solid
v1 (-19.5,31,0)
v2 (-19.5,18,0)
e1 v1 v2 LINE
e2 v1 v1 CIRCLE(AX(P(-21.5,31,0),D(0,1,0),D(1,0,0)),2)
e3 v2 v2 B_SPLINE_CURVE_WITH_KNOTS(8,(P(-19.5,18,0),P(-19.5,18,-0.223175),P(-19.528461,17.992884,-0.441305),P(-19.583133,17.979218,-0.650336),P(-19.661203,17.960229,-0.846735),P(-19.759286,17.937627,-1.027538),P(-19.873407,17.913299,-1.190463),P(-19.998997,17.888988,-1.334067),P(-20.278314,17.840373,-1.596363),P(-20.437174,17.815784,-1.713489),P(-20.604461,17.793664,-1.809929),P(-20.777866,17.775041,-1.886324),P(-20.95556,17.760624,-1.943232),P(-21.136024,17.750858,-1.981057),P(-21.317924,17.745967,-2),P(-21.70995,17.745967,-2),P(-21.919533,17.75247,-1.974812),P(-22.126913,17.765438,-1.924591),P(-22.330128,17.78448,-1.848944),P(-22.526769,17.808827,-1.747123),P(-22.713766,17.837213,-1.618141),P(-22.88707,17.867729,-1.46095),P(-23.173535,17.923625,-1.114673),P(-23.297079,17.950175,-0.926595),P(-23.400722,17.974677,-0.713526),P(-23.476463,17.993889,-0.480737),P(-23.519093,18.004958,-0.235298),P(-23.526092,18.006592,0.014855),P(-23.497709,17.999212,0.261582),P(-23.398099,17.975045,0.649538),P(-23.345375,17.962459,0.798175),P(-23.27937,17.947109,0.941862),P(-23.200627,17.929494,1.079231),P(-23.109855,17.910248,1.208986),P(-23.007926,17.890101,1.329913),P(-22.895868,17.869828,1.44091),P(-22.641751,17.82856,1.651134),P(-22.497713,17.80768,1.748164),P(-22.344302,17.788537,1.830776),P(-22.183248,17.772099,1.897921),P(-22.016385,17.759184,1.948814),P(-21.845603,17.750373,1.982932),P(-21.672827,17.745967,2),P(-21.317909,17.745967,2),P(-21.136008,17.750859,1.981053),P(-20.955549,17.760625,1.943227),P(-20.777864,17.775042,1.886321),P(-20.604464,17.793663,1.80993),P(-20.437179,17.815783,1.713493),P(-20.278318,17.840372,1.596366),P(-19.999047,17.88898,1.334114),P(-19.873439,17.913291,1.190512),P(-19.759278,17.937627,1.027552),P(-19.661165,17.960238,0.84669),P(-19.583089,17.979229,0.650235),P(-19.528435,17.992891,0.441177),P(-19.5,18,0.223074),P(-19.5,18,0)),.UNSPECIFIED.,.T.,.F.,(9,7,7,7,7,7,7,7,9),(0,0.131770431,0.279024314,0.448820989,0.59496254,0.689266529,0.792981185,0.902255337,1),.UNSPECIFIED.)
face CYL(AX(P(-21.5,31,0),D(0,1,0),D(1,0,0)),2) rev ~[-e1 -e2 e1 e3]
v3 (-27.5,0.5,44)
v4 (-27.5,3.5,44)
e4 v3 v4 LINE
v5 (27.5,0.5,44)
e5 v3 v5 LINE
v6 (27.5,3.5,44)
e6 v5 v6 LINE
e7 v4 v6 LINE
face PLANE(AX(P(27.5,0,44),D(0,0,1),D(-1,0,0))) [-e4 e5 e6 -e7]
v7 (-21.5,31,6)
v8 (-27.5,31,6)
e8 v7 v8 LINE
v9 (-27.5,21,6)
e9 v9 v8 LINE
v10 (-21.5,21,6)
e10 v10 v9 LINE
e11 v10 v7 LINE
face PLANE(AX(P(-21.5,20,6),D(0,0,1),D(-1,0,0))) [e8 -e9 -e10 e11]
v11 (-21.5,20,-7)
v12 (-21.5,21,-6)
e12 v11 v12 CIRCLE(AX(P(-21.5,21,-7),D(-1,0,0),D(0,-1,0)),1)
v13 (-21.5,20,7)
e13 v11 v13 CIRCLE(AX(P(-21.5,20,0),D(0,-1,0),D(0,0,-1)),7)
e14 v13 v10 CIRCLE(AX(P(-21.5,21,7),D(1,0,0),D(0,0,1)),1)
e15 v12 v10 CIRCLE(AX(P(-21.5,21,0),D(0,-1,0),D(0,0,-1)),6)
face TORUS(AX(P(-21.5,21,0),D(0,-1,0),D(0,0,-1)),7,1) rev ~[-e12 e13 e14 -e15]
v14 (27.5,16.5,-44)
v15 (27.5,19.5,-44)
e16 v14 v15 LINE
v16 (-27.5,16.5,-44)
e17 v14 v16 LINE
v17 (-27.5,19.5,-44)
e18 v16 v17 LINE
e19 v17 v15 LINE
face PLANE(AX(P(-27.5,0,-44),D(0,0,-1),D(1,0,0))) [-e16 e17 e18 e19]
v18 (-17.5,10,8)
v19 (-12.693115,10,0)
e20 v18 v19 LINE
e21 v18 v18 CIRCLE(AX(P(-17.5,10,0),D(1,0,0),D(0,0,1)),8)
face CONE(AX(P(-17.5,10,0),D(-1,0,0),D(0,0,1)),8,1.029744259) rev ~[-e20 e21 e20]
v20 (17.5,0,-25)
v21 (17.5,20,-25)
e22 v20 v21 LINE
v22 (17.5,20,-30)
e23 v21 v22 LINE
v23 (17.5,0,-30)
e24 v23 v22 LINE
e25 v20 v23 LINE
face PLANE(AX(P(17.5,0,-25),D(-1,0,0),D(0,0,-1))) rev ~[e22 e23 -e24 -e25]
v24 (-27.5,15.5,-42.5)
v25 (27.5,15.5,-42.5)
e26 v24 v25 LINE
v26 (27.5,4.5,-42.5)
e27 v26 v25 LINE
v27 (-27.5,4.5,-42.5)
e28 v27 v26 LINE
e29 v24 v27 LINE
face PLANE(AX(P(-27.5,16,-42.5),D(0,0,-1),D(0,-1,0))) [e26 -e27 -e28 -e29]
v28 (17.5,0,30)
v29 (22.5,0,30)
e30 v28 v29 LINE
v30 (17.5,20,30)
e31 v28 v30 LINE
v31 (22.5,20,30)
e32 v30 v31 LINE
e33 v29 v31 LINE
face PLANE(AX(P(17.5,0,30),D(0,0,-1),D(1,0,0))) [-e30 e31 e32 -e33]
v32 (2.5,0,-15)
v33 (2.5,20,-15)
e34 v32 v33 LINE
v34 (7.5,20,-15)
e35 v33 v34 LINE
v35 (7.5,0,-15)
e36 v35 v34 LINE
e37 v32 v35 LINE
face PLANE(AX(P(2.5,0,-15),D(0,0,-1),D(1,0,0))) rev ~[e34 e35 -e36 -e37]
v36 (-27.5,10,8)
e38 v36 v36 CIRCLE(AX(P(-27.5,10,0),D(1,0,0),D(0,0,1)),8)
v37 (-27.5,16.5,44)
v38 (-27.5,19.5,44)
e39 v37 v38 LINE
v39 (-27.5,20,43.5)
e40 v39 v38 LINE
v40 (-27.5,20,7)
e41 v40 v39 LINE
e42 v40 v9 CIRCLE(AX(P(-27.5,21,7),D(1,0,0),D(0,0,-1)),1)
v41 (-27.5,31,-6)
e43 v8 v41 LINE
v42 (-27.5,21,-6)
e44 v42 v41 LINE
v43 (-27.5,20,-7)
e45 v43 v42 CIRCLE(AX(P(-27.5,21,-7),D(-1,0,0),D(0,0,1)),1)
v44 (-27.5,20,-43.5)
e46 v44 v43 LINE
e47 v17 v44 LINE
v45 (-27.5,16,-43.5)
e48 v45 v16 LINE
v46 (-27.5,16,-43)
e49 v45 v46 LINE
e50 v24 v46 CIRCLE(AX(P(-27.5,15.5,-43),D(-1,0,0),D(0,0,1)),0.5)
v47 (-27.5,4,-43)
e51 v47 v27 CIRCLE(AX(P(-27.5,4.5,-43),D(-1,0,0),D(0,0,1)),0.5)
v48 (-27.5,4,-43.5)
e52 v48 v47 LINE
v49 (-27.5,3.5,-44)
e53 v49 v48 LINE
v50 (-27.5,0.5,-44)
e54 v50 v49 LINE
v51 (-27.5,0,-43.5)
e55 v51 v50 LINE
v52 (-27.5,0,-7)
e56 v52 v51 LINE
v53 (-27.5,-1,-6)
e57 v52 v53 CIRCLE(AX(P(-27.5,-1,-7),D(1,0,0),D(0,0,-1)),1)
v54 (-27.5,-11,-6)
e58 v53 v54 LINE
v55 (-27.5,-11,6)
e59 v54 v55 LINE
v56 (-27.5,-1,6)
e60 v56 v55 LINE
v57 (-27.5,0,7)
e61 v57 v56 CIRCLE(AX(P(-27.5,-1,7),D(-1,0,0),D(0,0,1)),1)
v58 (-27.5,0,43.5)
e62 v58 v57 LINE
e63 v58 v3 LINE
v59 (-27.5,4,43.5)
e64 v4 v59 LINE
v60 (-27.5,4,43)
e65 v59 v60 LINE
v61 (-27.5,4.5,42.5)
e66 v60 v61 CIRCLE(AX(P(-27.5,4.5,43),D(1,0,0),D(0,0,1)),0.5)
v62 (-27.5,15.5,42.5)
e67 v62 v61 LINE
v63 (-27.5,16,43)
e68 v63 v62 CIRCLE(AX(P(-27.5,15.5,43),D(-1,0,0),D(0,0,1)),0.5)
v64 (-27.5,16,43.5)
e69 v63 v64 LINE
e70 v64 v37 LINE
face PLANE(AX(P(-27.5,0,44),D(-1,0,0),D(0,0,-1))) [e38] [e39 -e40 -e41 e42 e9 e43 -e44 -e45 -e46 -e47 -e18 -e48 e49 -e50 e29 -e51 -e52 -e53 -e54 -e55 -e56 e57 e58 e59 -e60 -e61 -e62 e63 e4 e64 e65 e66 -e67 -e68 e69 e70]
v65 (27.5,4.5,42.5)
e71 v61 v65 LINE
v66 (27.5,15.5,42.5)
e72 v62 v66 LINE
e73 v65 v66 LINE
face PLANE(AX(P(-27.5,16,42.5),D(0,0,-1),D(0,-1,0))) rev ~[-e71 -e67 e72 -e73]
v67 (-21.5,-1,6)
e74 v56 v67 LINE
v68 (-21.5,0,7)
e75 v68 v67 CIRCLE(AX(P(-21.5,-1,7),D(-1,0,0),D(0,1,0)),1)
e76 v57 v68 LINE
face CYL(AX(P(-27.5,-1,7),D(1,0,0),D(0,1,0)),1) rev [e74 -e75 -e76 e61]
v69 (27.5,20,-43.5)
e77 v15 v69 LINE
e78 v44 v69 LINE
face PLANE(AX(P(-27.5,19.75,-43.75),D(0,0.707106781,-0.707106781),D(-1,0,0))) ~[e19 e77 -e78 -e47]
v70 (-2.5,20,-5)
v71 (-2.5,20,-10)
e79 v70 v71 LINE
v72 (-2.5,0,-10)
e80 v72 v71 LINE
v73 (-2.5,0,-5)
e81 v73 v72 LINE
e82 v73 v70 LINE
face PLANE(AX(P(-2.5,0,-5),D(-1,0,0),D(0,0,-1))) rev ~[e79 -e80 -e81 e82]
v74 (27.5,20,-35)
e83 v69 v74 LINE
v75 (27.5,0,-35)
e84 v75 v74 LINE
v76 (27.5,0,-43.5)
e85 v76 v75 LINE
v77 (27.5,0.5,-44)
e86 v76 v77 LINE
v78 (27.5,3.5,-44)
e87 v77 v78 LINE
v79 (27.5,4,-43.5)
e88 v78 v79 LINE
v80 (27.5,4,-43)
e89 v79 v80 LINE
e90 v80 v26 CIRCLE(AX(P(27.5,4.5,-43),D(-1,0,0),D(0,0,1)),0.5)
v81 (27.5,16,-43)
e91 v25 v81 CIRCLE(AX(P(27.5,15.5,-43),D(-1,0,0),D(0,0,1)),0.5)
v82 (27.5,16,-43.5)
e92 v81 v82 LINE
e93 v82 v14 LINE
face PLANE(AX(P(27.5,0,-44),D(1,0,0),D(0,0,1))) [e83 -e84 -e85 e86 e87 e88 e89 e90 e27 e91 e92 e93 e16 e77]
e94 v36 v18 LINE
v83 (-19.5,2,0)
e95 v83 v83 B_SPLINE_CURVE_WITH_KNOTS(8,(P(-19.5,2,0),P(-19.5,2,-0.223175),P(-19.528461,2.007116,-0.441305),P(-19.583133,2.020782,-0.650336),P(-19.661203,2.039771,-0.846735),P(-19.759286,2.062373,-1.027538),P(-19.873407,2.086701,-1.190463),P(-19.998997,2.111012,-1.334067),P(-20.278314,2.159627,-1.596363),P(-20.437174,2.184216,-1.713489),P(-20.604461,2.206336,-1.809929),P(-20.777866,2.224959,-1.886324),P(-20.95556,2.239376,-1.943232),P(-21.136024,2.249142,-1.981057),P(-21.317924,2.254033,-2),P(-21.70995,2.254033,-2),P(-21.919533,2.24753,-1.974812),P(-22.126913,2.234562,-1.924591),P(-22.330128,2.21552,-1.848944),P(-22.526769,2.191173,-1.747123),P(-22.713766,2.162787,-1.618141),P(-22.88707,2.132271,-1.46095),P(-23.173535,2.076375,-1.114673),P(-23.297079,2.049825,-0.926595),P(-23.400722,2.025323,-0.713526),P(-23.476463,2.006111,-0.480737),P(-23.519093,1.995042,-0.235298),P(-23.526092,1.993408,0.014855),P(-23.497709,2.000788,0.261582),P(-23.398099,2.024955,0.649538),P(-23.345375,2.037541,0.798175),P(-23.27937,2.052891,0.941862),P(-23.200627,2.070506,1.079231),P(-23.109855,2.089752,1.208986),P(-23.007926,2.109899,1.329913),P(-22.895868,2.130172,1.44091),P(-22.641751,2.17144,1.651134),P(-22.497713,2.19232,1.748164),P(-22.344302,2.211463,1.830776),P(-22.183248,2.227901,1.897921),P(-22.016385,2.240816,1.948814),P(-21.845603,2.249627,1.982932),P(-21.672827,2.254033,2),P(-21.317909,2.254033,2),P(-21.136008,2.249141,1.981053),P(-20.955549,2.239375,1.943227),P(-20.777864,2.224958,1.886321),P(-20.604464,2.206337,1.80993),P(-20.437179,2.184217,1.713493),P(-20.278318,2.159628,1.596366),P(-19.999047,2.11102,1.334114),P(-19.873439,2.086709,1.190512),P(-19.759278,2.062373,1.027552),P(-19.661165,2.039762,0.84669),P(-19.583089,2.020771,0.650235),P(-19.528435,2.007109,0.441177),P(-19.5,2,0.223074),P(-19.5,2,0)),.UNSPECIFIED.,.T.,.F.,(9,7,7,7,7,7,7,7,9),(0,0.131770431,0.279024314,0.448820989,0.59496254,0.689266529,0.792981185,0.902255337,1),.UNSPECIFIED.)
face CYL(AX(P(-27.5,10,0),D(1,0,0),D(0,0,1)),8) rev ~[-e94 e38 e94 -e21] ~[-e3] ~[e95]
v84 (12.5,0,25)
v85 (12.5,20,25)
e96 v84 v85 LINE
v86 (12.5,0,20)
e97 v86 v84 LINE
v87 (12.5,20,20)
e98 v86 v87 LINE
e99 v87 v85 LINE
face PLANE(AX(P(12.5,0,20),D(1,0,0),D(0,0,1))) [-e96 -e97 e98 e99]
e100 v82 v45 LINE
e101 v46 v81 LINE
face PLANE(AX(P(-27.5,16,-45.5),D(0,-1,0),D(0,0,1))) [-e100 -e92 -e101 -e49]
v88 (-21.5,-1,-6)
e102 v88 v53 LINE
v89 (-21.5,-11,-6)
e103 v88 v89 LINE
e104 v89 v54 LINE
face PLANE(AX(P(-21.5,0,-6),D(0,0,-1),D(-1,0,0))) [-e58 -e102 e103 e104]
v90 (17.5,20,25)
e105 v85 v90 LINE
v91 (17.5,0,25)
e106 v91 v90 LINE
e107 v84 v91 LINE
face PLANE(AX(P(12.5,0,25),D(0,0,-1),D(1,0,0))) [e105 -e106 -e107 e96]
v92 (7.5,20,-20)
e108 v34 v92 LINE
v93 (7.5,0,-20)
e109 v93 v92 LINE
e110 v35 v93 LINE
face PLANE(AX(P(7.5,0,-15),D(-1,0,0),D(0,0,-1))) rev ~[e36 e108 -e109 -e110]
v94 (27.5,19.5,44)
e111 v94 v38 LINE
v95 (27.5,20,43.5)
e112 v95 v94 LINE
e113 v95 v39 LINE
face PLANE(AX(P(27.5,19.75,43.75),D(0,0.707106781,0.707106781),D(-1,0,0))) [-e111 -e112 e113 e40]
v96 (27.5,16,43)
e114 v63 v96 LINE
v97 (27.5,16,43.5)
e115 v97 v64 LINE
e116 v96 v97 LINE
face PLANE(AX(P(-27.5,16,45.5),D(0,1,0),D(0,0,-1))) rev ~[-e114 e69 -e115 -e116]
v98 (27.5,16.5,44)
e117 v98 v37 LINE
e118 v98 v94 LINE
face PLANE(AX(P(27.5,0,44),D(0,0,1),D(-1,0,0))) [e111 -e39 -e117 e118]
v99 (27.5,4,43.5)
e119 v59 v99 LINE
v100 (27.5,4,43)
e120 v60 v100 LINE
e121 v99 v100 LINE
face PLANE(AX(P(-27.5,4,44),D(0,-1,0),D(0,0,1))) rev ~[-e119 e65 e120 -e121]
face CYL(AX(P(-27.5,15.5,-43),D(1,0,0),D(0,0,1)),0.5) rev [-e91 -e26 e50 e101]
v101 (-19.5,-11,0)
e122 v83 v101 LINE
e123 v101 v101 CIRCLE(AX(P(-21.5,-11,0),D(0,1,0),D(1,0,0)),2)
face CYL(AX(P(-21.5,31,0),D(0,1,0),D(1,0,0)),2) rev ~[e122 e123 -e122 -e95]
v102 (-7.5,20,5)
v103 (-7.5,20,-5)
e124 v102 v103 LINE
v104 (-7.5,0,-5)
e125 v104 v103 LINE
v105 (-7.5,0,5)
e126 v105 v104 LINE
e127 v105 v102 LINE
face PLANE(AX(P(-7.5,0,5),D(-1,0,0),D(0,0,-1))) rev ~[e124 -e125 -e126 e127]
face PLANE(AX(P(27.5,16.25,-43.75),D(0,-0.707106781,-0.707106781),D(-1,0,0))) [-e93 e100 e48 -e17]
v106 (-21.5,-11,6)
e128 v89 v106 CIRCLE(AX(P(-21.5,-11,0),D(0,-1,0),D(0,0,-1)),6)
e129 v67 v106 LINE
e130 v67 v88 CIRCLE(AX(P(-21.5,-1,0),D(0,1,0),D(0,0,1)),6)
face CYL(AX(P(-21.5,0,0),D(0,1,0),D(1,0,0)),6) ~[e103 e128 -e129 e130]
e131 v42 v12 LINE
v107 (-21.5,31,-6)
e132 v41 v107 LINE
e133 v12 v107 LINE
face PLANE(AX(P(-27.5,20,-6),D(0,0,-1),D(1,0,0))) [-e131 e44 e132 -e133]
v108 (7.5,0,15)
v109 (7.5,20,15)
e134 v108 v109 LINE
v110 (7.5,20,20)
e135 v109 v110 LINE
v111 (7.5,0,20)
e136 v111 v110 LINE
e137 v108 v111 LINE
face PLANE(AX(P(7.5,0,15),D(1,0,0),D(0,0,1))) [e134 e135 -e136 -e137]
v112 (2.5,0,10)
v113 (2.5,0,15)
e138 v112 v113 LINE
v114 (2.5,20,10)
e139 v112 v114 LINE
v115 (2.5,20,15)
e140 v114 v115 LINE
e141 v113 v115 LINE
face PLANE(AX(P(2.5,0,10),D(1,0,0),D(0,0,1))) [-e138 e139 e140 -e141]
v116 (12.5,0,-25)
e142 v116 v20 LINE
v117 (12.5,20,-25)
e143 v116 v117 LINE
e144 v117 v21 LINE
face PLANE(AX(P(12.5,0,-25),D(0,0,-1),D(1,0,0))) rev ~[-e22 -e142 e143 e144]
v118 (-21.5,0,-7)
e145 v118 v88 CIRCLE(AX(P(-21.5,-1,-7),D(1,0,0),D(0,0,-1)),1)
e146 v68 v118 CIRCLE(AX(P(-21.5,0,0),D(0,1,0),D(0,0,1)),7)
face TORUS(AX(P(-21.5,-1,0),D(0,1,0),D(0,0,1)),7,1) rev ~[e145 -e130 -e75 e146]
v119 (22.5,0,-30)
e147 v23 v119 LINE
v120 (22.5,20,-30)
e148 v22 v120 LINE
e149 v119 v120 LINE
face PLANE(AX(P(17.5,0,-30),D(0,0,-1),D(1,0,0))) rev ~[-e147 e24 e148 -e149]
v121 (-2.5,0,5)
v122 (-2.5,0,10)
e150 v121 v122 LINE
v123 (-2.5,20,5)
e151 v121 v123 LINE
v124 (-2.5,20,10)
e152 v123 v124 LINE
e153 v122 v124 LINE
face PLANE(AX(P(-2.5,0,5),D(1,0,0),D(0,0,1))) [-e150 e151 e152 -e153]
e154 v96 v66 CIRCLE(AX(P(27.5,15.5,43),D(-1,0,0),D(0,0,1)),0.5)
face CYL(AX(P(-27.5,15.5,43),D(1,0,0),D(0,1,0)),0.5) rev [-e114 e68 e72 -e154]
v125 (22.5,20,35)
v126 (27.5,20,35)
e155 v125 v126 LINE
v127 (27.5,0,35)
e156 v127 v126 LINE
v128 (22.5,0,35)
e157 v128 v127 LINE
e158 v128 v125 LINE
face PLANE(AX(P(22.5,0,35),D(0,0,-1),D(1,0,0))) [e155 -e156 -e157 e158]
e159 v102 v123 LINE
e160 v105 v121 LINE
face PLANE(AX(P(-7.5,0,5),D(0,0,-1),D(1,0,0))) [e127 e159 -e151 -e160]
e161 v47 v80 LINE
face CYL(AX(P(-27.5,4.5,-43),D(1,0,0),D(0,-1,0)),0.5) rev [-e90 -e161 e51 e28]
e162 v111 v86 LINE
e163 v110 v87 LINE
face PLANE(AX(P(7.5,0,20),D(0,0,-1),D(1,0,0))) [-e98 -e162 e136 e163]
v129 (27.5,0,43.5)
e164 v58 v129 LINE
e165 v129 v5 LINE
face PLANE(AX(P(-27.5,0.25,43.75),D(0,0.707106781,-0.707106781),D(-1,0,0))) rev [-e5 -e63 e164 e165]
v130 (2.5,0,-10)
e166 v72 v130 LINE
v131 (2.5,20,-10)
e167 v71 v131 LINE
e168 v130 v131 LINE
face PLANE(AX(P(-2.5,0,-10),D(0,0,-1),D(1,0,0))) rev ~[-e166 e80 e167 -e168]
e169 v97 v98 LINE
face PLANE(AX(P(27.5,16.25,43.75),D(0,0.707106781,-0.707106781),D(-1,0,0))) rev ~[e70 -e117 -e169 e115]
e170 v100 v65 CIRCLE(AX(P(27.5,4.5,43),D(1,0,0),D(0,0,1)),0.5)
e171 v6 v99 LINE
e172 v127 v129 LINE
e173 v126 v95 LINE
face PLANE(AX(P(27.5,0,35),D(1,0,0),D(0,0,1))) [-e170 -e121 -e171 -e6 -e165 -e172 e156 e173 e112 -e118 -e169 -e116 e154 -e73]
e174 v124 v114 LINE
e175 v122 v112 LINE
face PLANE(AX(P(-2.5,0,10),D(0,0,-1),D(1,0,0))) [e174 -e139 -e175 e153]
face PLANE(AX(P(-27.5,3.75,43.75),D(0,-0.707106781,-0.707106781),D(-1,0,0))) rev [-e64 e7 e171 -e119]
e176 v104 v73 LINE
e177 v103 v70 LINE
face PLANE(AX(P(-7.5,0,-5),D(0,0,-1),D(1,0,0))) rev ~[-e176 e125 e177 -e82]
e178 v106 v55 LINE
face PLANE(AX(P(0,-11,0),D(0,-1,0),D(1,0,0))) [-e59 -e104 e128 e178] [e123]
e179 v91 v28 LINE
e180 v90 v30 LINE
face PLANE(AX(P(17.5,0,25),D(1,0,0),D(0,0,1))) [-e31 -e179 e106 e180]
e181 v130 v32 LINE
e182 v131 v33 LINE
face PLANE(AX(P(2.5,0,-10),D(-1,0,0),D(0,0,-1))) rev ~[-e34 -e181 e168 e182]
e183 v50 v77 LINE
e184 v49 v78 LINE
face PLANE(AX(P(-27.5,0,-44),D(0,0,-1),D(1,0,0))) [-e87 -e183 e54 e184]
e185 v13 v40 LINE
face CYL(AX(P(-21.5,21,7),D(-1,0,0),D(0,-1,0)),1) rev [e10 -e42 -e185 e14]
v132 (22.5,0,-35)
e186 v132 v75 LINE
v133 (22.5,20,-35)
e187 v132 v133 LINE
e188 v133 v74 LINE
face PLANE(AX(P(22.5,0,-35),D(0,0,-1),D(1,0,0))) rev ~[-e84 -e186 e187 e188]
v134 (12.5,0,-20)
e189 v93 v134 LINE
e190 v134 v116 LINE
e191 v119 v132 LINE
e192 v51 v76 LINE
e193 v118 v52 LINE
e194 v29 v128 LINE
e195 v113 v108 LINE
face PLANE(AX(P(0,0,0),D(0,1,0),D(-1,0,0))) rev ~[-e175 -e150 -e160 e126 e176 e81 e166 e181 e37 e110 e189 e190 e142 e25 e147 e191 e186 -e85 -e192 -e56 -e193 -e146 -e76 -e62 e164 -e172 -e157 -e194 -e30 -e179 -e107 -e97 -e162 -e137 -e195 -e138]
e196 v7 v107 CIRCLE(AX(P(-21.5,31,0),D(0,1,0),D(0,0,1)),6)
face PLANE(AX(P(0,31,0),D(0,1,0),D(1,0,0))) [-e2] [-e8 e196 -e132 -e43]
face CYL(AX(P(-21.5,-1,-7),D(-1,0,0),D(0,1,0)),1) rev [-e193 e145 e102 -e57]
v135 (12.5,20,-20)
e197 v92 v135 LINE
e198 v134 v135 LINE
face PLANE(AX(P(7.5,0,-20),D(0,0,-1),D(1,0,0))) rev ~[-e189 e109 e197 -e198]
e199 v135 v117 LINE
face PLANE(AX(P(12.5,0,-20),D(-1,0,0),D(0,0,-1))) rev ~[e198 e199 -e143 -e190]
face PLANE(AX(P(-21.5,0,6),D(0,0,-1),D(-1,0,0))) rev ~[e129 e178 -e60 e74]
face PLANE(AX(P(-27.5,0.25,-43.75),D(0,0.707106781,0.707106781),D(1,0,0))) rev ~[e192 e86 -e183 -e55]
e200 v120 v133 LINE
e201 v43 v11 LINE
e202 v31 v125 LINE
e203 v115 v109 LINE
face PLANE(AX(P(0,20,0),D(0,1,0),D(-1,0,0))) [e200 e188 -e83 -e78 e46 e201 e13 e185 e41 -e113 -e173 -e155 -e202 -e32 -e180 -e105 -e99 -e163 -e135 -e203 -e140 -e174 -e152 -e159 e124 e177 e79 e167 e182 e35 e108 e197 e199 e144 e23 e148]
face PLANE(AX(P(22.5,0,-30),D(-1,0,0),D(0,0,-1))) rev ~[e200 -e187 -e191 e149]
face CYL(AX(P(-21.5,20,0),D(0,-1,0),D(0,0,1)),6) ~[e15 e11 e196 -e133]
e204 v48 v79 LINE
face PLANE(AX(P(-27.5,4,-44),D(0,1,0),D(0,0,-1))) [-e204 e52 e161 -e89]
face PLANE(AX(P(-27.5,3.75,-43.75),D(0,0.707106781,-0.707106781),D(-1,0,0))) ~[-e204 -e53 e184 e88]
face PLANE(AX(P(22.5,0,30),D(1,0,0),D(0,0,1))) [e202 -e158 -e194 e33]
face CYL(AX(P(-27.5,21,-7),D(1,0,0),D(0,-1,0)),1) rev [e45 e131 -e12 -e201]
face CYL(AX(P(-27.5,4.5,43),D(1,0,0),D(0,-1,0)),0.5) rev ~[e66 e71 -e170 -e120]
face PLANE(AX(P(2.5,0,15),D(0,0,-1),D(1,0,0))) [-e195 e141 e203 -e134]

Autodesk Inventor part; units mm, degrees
ref_plane "YZ Plane" through (0, 0, 0) normal (1, 0, 0) x (0, 1, 0)
ref_plane "XZ Plane" through (0, 0, 0) normal (0, 1, 0) x (-1, 0, 0)
ref_plane "XY Plane" through (0, 0, 0) normal (0, 0, 1) x (1, 0, 0)
sketch "Sketch1" plane through (0, 0, 0) normal (0, 1, 0) x (-1, 0, 0)
  line L0 (-27.5, 44) -> (27.5, 44)
  line L1 (27.5, 44) -> (27.5, -44)
  line L2 (27.5, -44) -> (-27.5, -44)
  line L3 (-27.5, -44) -> (-27.5, 44)
  line L4 (-27.5, 44) -> (27.5, -44) construction
  line L5 (27.5, 44) -> (-27.5, -44) construction
  line L6 (-27.5, 44) -> (-22.5, 44)
  line L7 (-22.5, 44) -> (-22.5, 35)
  line L8 (-22.5, 35) -> (-27.5, 35)
  line L9 (-27.5, 35) -> (-27.5, 44)
  line L10 (-22.5, 35) -> (-17.5, 35)
  line L11 (-17.5, 35) -> (-17.5, 30)
  line L12 (-17.5, 30) -> (-22.5, 30)
  line L13 (-22.5, 30) -> (-22.5, 35)
  line L14 (-17.5, 30) -> (-12.5, 30)
  line L15 (-12.5, 30) -> (-12.5, 25)
  line L16 (-12.5, 25) -> (-17.5, 25)
  line L17 (-17.5, 25) -> (-17.5, 30)
  line L18 (-12.5, 25) -> (-7.5, 25)
  line L19 (-7.5, 25) -> (-7.5, 20)
  line L20 (-7.5, 20) -> (-12.5, 20)
  line L21 (-12.5, 20) -> (-12.5, 25)
  line L22 (-7.5, 20) -> (-2.5, 20)
  line L23 (-2.5, 20) -> (-2.5, 15)
  line L24 (-2.5, 15) -> (-7.5, 15)
  line L25 (-7.5, 15) -> (-7.5, 20)
  line L26 (-2.5, 15) -> (2.5, 15)
  line L27 (2.5, 15) -> (2.5, 10)
  line L28 (2.5, 10) -> (-2.5, 10)
  line L29 (-2.5, 10) -> (-2.5, 15)
  line L30 (2.5, 10) -> (7.5, 10)
  line L31 (7.5, 10) -> (7.5, 5)
  line L32 (7.5, 5) -> (2.5, 5)
  line L33 (2.5, 5) -> (2.5, 10)
  line L34 (13, 5) -> (13, 0)
  line L35 (13, 0) -> (8, 0)
  line L36 (8, 0) -> (8, 5)
  line L37 (-27.5, -44) -> (27.5, 44) construction
  line L38 (-22.5, -35) -> (-27.5, -35)
  line L39 (-17.5, -30) -> (-22.5, -30)
  line L40 (-22.5, -30) -> (-22.5, -35)
  line L41 (-17.5, -25) -> (-17.5, -30)
  line L42 (-7.5, -20) -> (-12.5, -20)
  line L43 (-12.5, -20) -> (-12.5, -25)
  line L44 (-2.5, -15) -> (-7.5, -15)
  line L45 (-7.5, -15) -> (-7.5, -20)
  line L46 (2.5, -10) -> (-2.5, -10)
  line L47 (-2.5, -10) -> (-2.5, -15)
  line L48 (7.5, -5) -> (2.5, -5)
  line L49 (2.5, -5) -> (2.5, -10)
  line L50 (8, 0) -> (8, -5)
  line L51 (7.5, 5) -> (7.5, -5)
  line L52 (27.5, 0) -> (21.5, 0)
  circle A0 centre (21.5, 0) radius 6
  line L53 (-12.5, -25) -> (-17.5, -25)
  point P0 (0, 0)
  dimension "d0" = 55
  dimension "d1" = 88
  dimension "d2" = 5
  dimension "d3" = 9
  dimension "d4" = 5
  dimension "d5" = 5
  dimension "d6" = 5
  dimension "d7" = 5
  dimension "d8" = 5
  dimension "d9" = 5
  dimension "d10" = 5
  dimension "d11" = 5
  dimension "d12" = 5
  dimension "d13" = 5
  dimension "d14" = 5
  dimension "d15" = 5
  dimension "d16" = 5
  dimension "d17" = 5
  dimension "d18" = 6
extrude "Extrusion1" add sketch "Sketch1" along normal blind 20 contours L0 L7 L8 L3 | A0 | L0 L1 L2 L3 L38 L40 L39 L41 L53 L43 L42 L45 L44 L47 L46 L49 L48 L51 L31 L30 L27 L26 L23 L22 L19 L18 L15 L14 L11 L10 L7 | L10 L11 L12 L13 | L14 L15 L16 L17 | L18 L19 L20 L21 | L22 L23 L24 L25 | L26 L27 L28 L29 | L30 L31 L32 L33
sketch "Sketch2" plane through (0, 0, 0) normal (0, -1, 0) x (1, 0, 0)
  line L0 (-27.5, -44) -> (-27.5, 44) projected
  line L1 (-27.5, 0) -> (-21.5, 0)
  circle A0 centre (-21.5, 0) radius 6
  line L2 (-21.5, -6) -> (-27.5, -6)
  line L3 (-21.5, 6) -> (-27.5, 6)
  point P0 (0, 0)
  dimension "d21" = 6
extrude "Extrusion2" add sketch "Sketch2" along normal blind 11
sketch "Sketch3" plane through (0, 20, 0) normal (0, 1, 0) x (1, 0, 0)
  line L0 (-21.5, -6) -> (-27.5, -6) projected
  line L1 (-27.5, -6) -> (-27.5, 6) projected
  line L2 (-27.5, 6) -> (-21.5, 6) projected
  arc A0 (-21.5, -6) -> (-21.5, 6) centre (-21.5, 0) ccw projected
  point P0 (0, 0)
extrude "Extrusion3" add sketch "Sketch3" along normal blind 11
sketch "Sketch4" plane through (0, 31, 0) normal (0, 1, 0) x (1, 0, 0)
  arc A0 (-21.5, -6) -> (-21.5, 6) centre (-21.5, 0) ccw projected
  circle A1 centre (-21.5, 0) radius 2
  point P0 (0, 0)
  dimension "d26" = 4
extrude "Extrusion4" cut sketch "Sketch4" against normal through all
sketch "Sketch5" plane through (-27.5, 0, 44) normal (-1, 0, 0) x (0, 0, 1)
  line L0 (-44, 0) -> (-44, 10)
  line L1 (-46, 31) -> (-46, -11) projected
hole "Hole1" at (-27.5, 10, 0) direction (1, 0, 0) diameter 16 depth 10 tip angle 118
sketch "Sketch6" plane through (-27.5, 0, 44) normal (-1, 0, 0) x (0, 0, 1)
  line L0 (1.5, 16) -> (-1.5, 16)
  line L1 (-1.5, 16) -> (-1.5, 4)
  line L2 (-1.5, 4) -> (1.5, 4)
  line L3 (1.5, 4) -> (1.5, 16)
  line L4 (0, 0) -> (0, 20) projected
  line L5 (1.5, 16) -> (-1.5, 4) construction
  line L6 (-1.5, 16) -> (1.5, 4) construction
  line L7 (-89.5, 16) -> (-86.5, 16)
  line L8 (-86.5, 16) -> (-86.5, 4)
  line L9 (-86.5, 4) -> (-89.5, 4)
  line L10 (-89.5, 4) -> (-89.5, 16)
  line L11 (-88, 0) -> (-88, 20) projected
  line L12 (-89.5, 16) -> (-86.5, 4) construction
  line L13 (-86.5, 16) -> (-89.5, 4) construction
  point P0 (-44, 0)
  point P1 (0, 10)
  point P2 (-88, 10)
  dimension "d36" = 3
  dimension "d37" = 12
  dimension "d38" = 3
  dimension "d39" = 12
extrude "Extrusion5" cut sketch "Sketch6" against normal through all
fillet "Fillet1" radius 0.5 4 edges at (0, 4, 42.5) (0, 16, 42.5) (0, 4, -42.5) (0, 16, -42.5)
fillet "Fillet2" radius 1 6 edges at (-24.5, 20, -6) (-15.5, 20, 0) (-24.5, 20, 6) (-15.5, 0, 0) (-24.5, 0, 6) (-24.5, 0, -6)
chamfer "Chamfer1" distance 0.5 angle 45 8 edges at (0, 20, -44) (0, 16, -44) (0, 4, -44) (0, 0, -44) (0, 20, 44) (0, 16, 44) (0, 0, 44) (0, 4, 44)
thread "Thread1" size "M4x0.7" class "6H" standard "ANSI Metric M Profile" full length
thread "Thread2" size "M4x0.7" class "6H" standard "ANSI Metric M Profile" full length
properties part number "pfa"
